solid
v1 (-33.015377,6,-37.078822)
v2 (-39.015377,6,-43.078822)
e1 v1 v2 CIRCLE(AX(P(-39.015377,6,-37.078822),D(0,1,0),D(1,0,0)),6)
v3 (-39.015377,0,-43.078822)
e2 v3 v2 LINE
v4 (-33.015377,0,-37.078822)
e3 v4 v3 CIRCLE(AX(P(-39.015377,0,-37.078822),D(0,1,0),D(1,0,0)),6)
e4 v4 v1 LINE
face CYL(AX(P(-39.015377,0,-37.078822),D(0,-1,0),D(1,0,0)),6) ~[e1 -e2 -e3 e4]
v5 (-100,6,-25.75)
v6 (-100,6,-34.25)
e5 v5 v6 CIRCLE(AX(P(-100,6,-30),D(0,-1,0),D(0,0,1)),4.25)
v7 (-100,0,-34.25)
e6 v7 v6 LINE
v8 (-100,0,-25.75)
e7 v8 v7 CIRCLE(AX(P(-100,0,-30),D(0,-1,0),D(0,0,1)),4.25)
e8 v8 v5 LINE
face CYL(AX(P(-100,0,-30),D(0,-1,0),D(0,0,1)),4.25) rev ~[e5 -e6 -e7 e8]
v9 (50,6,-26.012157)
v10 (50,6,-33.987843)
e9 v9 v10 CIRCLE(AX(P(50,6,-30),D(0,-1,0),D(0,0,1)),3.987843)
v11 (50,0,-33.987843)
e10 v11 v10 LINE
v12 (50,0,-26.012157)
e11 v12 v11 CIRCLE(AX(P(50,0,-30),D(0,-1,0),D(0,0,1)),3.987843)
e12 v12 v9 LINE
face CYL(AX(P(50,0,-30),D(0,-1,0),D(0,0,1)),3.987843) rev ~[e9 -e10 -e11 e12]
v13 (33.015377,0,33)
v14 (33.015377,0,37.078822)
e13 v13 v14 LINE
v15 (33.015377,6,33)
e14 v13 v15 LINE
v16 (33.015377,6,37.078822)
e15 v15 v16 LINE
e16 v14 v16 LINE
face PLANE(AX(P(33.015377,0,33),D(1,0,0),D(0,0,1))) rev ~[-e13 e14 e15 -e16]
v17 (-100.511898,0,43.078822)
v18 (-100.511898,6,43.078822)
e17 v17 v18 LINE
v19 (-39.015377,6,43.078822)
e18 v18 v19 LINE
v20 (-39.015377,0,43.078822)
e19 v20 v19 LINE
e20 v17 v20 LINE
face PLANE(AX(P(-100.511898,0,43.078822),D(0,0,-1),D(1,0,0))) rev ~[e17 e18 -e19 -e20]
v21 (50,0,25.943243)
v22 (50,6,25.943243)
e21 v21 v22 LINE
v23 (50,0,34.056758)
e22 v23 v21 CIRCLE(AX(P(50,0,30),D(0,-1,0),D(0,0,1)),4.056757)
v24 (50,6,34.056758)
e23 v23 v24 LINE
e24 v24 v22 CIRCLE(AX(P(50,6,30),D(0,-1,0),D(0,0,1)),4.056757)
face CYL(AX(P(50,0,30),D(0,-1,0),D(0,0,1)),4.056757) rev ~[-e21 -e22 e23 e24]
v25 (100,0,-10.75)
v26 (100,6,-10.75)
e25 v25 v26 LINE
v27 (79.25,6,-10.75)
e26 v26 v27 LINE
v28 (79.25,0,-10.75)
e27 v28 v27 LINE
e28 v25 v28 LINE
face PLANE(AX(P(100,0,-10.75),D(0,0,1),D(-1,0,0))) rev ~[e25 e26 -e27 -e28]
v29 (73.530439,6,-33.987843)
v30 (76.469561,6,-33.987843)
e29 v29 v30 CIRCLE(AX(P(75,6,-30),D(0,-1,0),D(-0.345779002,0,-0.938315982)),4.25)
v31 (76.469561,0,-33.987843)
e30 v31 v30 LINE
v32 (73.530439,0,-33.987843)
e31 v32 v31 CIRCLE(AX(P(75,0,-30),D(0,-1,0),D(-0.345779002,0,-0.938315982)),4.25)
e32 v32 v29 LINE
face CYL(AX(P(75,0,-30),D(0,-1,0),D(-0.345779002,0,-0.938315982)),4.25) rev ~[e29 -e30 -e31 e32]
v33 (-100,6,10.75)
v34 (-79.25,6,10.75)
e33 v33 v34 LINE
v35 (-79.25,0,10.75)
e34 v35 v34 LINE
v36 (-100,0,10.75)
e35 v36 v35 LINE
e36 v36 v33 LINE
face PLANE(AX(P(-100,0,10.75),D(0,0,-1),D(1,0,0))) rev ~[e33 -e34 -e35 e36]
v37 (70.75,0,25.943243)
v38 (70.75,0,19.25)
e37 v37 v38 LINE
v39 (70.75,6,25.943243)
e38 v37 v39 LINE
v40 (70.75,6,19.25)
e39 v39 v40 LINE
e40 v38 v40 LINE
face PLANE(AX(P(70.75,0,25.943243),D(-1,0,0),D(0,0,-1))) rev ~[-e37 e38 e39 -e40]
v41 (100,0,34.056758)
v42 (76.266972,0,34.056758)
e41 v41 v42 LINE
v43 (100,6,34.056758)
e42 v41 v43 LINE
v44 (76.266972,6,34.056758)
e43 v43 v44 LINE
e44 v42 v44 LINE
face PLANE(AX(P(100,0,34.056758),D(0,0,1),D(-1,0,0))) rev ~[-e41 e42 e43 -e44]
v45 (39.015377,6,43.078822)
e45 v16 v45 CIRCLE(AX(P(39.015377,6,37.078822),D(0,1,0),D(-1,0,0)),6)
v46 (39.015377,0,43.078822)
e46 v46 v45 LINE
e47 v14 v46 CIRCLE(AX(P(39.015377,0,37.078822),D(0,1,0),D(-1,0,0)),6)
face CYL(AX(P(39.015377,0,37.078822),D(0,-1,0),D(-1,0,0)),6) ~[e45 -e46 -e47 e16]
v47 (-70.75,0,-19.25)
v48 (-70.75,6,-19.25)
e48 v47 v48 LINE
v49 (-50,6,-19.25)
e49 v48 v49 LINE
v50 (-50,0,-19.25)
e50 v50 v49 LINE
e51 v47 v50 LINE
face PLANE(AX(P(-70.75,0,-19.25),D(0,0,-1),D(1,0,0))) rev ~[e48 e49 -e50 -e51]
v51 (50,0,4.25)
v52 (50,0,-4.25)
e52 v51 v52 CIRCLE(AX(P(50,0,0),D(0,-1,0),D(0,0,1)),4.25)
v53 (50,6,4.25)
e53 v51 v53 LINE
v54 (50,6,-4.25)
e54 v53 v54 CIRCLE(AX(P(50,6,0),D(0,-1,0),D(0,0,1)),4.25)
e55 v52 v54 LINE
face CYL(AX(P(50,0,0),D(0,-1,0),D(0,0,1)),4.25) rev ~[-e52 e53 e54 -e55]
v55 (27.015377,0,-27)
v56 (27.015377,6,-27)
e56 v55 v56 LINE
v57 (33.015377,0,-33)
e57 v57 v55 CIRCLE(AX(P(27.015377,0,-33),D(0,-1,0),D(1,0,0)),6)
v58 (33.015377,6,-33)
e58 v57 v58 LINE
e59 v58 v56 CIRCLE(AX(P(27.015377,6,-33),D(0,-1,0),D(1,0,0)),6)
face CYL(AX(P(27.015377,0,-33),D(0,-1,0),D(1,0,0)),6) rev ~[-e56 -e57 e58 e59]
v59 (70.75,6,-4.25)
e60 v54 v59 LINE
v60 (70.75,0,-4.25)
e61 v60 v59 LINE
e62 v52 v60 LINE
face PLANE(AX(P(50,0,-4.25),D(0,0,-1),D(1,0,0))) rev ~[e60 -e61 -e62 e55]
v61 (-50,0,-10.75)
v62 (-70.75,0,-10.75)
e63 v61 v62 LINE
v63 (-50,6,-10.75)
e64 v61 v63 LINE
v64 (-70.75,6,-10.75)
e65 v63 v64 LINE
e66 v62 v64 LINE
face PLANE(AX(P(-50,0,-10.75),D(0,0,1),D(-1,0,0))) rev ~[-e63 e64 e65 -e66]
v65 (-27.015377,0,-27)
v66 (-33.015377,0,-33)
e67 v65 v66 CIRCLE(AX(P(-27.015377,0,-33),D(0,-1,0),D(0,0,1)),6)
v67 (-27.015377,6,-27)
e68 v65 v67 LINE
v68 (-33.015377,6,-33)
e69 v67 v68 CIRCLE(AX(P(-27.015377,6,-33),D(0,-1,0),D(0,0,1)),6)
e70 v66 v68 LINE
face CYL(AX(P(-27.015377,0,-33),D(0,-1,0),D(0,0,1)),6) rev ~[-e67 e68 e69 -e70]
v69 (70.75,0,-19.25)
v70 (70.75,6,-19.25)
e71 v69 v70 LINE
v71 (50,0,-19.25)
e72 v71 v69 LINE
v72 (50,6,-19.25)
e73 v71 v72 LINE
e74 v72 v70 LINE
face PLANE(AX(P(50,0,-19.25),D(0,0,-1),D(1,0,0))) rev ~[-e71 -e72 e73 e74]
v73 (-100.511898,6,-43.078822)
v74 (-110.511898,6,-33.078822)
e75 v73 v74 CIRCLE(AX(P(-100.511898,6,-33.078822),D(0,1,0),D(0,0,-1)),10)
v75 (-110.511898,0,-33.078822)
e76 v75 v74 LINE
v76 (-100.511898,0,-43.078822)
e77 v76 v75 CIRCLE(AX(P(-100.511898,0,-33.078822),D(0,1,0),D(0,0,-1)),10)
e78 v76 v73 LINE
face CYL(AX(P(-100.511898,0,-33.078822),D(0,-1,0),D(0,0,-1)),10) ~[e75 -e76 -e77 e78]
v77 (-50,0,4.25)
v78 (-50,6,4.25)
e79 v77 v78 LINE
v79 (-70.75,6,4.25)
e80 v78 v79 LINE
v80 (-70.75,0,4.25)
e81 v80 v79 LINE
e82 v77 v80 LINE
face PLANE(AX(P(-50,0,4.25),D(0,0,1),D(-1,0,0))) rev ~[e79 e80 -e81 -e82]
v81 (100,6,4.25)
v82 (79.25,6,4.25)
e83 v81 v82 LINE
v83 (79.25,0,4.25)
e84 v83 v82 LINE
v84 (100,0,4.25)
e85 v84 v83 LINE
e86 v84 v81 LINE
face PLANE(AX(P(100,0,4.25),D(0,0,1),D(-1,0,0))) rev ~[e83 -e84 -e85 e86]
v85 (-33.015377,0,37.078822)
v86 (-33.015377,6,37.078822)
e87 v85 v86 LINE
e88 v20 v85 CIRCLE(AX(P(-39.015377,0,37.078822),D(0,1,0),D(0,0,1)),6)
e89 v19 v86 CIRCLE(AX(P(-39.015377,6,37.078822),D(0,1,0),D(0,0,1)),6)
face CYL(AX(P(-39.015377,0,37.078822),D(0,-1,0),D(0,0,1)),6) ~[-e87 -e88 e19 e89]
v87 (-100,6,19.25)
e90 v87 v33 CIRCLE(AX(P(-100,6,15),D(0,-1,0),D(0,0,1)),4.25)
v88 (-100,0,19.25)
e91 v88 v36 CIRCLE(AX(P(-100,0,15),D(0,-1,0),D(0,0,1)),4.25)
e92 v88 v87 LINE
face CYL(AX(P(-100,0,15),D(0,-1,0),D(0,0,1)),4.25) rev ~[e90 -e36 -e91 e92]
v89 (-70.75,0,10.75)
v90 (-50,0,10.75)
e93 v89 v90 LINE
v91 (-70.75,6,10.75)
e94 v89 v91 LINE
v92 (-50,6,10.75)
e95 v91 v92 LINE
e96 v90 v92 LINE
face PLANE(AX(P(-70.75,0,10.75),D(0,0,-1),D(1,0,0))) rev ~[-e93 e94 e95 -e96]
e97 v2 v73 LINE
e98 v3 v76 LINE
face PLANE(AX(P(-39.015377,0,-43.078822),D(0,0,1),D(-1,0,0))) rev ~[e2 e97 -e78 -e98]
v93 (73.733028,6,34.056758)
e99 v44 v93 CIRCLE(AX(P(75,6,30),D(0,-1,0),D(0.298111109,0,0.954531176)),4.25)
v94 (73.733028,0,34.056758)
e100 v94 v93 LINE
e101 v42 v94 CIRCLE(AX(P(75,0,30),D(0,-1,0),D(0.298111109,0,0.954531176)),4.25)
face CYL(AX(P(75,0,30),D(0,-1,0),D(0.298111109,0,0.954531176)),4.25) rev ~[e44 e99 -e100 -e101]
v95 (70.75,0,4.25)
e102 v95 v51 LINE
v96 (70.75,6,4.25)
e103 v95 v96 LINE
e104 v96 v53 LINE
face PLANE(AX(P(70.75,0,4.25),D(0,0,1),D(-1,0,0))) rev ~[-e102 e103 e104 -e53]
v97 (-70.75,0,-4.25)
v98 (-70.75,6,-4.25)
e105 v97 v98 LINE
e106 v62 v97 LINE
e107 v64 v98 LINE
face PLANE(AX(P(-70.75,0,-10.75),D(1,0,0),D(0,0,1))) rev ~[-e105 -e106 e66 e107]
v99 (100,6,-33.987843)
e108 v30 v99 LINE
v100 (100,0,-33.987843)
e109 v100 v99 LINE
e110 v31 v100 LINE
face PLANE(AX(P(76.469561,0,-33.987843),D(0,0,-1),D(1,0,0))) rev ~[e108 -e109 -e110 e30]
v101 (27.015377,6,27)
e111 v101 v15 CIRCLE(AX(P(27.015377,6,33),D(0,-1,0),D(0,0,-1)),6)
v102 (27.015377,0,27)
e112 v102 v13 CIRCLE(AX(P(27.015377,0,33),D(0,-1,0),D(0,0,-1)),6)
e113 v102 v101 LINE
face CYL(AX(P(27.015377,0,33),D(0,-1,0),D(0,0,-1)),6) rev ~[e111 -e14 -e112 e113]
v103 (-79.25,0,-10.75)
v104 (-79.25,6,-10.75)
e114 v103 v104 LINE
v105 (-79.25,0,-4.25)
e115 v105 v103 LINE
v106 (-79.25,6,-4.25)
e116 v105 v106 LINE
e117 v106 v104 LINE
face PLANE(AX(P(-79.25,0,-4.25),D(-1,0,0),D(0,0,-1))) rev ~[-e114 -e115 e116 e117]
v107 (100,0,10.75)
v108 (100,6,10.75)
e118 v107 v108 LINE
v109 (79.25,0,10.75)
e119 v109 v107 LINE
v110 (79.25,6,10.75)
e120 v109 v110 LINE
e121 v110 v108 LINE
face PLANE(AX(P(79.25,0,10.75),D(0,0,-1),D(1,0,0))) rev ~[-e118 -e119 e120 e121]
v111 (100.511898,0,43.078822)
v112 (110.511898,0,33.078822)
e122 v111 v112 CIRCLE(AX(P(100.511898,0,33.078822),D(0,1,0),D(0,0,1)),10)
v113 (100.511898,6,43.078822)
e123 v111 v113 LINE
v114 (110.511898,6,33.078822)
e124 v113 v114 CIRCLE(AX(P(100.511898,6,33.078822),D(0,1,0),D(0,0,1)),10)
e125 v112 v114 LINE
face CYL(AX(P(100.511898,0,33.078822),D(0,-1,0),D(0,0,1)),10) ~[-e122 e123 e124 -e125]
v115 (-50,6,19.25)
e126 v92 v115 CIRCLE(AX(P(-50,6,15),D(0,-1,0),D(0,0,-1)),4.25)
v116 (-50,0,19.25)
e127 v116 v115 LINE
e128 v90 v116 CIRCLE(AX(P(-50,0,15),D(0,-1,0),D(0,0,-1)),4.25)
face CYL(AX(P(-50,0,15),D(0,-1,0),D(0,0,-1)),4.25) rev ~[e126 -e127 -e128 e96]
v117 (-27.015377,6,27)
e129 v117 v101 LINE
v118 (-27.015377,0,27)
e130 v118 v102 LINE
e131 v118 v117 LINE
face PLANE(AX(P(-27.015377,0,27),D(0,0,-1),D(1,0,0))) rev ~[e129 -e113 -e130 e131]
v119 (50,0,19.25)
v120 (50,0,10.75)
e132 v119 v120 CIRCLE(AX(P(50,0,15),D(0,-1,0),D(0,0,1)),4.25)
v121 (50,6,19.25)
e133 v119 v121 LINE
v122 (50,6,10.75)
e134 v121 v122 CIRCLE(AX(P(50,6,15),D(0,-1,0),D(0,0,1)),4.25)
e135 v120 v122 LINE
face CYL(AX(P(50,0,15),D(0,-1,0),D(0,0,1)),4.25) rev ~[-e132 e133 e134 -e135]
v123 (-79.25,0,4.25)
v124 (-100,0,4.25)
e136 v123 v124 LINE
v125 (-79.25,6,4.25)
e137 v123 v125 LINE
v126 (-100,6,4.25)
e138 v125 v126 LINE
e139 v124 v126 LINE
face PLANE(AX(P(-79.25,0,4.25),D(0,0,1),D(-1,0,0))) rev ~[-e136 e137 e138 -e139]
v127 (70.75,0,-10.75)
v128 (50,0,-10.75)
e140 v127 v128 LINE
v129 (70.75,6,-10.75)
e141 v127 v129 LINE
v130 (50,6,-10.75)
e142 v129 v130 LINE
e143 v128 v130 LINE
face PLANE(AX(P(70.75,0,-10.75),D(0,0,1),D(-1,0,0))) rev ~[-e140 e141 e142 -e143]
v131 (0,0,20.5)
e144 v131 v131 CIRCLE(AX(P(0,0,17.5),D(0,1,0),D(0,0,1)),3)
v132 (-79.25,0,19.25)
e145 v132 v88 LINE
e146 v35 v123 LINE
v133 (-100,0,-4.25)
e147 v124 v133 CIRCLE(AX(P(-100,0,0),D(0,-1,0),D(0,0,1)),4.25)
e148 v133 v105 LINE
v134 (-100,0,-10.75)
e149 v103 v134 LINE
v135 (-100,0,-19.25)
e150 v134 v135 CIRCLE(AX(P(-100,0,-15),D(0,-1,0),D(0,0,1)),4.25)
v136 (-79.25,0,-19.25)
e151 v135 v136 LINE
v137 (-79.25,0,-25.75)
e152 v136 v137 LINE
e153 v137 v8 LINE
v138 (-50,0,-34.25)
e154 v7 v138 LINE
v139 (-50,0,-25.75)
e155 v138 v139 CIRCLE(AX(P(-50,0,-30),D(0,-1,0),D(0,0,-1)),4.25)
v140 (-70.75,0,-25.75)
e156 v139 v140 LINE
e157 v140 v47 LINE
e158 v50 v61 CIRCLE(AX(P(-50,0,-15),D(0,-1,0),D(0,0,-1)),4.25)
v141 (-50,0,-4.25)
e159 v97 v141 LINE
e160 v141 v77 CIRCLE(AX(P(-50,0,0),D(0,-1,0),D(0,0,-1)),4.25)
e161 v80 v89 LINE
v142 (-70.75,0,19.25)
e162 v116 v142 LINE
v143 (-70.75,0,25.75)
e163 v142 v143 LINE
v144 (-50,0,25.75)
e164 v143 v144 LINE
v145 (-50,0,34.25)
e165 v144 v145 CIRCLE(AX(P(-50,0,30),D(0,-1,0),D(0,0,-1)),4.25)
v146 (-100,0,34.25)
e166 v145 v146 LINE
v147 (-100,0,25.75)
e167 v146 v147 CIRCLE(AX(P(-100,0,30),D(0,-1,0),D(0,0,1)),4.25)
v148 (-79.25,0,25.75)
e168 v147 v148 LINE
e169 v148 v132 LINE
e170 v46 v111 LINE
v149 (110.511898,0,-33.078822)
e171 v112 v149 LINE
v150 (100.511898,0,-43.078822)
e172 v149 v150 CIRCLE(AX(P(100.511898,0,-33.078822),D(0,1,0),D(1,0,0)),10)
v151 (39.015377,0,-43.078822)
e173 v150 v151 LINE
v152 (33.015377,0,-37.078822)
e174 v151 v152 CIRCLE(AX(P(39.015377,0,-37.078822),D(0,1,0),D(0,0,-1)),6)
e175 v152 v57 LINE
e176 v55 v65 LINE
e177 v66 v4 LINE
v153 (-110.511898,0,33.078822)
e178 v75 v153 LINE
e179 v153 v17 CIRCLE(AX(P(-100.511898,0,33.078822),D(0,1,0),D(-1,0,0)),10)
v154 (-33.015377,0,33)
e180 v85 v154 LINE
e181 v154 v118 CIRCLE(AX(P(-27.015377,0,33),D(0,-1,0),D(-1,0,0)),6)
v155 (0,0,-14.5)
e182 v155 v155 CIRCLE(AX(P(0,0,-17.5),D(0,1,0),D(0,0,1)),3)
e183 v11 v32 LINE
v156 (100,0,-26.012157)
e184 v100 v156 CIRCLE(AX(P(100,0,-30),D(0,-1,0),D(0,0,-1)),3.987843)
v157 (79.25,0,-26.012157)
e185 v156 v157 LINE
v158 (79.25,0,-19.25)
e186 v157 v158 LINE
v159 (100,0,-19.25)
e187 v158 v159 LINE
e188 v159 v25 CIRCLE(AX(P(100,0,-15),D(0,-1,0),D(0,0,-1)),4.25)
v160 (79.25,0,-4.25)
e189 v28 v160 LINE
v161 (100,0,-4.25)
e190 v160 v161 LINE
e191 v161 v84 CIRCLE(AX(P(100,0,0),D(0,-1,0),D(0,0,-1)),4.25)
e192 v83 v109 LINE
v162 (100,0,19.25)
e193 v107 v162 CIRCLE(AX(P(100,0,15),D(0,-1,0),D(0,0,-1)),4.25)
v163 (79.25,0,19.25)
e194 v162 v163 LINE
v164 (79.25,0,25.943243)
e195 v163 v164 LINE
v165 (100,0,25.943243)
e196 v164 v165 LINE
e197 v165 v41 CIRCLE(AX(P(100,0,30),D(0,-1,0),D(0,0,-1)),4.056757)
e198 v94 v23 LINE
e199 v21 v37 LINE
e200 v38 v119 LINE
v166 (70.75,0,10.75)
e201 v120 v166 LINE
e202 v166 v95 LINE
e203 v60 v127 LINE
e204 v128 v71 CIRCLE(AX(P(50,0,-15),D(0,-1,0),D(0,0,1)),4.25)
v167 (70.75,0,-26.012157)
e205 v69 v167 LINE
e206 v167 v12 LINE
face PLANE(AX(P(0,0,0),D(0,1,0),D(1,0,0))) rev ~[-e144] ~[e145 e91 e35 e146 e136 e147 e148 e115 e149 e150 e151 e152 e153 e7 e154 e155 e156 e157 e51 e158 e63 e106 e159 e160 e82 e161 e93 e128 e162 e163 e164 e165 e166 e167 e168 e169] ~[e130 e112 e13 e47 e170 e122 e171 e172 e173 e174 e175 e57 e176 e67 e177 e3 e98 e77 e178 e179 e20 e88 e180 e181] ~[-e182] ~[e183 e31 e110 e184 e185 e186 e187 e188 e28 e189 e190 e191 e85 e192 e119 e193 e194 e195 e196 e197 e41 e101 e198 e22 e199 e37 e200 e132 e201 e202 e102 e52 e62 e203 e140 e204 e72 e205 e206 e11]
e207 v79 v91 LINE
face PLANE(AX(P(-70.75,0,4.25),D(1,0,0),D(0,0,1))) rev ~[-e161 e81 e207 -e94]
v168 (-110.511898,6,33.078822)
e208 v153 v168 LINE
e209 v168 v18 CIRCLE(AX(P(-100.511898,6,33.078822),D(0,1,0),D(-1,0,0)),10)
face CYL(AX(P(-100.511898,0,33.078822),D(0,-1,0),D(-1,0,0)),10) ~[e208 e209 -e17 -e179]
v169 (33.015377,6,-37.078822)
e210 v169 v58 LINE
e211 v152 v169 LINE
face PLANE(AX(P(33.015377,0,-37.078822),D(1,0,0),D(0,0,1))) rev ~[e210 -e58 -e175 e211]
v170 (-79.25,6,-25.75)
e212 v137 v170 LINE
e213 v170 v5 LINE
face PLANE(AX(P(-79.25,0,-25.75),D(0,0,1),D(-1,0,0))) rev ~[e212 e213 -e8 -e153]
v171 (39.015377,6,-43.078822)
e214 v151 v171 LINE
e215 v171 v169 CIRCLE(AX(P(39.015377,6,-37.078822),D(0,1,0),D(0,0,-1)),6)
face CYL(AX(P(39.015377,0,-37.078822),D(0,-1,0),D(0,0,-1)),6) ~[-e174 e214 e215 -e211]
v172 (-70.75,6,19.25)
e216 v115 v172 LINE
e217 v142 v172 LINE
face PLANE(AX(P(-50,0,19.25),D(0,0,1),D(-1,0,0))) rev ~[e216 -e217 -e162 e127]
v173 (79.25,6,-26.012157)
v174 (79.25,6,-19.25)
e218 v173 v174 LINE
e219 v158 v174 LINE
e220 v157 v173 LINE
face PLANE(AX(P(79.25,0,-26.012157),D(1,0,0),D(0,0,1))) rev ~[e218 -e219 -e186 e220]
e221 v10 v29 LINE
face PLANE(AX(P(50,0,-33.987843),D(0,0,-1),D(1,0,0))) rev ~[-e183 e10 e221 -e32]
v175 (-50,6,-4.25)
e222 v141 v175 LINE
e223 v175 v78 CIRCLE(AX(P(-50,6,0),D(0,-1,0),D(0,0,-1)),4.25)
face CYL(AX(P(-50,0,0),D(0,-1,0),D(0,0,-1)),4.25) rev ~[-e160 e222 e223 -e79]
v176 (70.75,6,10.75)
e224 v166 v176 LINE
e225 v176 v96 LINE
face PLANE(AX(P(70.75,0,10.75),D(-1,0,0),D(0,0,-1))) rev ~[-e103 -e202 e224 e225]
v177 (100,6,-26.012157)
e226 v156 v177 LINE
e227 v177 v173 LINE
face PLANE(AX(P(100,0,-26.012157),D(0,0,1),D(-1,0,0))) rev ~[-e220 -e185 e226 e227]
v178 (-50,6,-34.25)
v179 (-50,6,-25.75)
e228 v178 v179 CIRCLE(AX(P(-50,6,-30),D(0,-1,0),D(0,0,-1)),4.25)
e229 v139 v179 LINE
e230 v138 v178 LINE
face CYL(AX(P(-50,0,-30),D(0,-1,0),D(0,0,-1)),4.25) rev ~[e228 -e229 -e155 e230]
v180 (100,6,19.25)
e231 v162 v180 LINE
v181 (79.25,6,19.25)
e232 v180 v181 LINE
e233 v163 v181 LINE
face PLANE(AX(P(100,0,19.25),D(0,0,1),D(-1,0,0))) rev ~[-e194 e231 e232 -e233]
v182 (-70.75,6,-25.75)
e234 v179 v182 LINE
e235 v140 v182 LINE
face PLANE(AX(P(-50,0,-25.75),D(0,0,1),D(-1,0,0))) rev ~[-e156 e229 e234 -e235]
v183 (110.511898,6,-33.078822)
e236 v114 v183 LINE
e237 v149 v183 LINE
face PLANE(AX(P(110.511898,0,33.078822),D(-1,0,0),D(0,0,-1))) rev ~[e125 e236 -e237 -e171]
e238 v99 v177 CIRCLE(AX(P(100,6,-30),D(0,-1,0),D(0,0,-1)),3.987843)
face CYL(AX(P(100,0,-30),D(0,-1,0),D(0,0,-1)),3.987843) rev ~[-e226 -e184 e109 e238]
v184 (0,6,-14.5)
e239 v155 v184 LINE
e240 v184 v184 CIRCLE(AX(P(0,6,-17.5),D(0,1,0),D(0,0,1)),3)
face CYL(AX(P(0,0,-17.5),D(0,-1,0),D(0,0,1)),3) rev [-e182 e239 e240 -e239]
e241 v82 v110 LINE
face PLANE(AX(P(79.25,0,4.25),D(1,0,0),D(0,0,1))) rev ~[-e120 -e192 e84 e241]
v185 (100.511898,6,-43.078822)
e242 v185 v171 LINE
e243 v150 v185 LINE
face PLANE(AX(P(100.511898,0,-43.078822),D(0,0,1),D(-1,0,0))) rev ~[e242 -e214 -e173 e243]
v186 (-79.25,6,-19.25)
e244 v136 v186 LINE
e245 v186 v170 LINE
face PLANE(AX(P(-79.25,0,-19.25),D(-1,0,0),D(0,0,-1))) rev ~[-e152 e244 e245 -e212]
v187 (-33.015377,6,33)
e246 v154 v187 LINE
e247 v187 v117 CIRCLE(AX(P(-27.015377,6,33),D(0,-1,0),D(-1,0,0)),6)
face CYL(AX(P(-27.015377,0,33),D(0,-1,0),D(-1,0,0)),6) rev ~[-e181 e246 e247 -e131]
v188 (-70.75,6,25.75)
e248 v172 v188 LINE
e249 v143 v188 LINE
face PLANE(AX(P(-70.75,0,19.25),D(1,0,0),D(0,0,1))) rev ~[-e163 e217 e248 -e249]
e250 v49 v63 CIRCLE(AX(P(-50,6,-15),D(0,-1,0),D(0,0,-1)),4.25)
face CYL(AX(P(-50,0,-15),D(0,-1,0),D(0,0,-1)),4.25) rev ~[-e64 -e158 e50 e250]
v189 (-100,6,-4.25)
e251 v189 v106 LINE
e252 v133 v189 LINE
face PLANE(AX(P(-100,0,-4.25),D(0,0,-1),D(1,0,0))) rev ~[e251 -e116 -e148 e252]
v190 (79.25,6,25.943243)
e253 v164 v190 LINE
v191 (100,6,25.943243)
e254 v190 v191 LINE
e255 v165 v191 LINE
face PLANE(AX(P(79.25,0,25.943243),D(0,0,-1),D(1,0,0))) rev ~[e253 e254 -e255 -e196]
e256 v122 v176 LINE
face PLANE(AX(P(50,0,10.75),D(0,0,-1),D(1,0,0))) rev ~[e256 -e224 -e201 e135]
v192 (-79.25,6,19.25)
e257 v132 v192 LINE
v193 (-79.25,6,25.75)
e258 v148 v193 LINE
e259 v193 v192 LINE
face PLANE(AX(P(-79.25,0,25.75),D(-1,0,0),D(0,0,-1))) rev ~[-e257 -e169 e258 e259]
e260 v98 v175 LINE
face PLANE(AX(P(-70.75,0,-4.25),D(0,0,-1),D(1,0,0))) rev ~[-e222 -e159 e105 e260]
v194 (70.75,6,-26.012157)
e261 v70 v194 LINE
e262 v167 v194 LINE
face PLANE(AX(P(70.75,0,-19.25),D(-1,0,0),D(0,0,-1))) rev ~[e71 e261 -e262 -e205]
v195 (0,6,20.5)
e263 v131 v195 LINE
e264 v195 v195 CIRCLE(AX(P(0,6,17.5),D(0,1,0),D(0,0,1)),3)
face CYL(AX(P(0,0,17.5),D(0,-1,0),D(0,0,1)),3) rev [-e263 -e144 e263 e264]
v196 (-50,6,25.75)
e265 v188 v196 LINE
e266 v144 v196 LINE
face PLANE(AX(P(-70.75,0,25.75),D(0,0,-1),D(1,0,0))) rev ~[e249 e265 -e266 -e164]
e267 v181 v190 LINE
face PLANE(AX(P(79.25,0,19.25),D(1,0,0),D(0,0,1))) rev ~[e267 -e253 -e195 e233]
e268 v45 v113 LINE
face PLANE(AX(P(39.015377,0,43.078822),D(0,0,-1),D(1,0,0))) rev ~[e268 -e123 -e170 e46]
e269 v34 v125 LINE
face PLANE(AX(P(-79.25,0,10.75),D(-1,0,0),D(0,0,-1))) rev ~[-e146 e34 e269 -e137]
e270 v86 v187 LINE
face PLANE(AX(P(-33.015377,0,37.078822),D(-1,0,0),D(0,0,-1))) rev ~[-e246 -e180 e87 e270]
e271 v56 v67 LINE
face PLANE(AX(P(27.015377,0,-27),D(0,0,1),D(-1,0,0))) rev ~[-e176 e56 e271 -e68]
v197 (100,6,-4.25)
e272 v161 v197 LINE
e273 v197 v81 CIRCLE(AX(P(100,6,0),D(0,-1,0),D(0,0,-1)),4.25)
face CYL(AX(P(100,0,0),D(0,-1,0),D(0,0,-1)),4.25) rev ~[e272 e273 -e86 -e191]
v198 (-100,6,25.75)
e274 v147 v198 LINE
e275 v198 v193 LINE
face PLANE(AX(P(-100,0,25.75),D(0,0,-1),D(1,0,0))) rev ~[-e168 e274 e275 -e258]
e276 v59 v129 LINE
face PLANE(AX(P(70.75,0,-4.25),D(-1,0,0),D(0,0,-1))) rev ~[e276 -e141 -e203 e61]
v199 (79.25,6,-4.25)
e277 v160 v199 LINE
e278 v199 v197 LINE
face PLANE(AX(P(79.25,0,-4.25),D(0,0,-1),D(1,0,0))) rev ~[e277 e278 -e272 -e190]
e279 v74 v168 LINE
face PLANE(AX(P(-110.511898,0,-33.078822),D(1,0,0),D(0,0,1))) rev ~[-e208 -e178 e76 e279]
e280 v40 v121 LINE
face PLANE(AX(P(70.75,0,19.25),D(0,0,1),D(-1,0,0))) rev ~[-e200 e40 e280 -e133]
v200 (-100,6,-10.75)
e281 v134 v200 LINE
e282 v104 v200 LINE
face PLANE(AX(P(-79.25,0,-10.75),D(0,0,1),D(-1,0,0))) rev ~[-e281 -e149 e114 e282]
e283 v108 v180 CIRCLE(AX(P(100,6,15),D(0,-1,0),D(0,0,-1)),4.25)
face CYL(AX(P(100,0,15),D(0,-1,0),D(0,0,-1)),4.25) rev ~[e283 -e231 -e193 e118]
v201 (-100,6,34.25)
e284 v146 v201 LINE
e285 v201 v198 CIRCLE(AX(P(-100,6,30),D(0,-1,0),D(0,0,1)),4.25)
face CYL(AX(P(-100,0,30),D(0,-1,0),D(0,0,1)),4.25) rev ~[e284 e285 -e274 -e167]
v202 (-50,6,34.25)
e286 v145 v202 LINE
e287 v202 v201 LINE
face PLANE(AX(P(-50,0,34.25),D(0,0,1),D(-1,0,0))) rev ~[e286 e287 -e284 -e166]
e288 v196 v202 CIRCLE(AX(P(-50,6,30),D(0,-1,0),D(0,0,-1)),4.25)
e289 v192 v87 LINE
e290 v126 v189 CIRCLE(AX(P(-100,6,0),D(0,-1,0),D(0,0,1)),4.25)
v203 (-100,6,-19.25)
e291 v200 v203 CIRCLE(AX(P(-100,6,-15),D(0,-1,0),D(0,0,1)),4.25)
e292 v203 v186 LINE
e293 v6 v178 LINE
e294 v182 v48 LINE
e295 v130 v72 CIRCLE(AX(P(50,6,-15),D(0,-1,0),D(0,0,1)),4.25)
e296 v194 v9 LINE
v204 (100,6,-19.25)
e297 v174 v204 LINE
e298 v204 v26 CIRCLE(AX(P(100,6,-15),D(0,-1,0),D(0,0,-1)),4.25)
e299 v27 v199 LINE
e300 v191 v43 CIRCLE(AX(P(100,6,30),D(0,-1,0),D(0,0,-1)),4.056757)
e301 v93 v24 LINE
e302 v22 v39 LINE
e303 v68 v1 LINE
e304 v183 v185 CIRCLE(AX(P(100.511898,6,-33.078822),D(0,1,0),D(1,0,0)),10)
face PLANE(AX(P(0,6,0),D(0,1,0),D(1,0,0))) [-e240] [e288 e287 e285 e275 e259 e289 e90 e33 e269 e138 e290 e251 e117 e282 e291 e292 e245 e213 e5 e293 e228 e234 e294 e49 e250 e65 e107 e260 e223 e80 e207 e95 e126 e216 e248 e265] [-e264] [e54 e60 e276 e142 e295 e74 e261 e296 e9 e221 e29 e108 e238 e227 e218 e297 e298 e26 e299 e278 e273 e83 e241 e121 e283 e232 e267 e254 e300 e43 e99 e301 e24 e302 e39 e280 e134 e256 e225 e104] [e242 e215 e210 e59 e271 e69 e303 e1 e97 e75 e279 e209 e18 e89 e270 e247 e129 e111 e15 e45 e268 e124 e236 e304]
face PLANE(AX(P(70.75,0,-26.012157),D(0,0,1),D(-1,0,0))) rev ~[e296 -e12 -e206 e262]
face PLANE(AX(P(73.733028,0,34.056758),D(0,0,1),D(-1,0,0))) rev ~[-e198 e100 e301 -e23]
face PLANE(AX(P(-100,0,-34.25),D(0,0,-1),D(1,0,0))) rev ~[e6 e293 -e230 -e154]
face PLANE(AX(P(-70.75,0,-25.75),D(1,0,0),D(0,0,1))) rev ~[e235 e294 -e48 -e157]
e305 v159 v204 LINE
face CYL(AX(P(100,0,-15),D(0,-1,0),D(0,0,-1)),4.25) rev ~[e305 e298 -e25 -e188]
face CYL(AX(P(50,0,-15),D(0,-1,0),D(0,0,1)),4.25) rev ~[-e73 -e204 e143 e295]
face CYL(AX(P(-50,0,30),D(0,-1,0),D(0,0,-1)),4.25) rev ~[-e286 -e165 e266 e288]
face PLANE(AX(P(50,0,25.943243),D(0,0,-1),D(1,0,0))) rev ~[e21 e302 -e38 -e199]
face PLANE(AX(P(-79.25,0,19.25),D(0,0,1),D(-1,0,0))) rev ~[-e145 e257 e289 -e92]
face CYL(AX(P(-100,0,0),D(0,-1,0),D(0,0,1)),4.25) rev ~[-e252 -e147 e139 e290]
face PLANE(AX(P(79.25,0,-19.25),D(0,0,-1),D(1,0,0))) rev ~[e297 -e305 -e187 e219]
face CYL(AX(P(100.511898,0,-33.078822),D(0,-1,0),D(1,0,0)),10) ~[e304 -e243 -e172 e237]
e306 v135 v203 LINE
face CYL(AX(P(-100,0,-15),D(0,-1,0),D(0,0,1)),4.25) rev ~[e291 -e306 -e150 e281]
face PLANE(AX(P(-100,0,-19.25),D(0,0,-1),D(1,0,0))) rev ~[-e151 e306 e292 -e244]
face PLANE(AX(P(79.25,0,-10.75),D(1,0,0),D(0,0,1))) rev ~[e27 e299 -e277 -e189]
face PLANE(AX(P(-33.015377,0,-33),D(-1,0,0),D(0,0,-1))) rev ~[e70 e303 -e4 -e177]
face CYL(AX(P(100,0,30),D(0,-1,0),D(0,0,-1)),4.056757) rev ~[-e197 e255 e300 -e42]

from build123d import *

# Parameters (mm, degrees)
CROQUIS1_R              = 3
SALIENTE_EXTRUIR1_DEPTH = 6


with BuildPart() as part:
    # Croquis1 → Saliente-Extruir1 (new body)
    with BuildSketch(Plane(origin=(0, 0, 0), x_dir=(1, 0, 0), z_dir=(0, 1, 0))):
        with BuildLine():
            Line((39.015376651, -43.078821925), (100.511897923, -43.078821925))
            ThreePointArc((100.511897923, -43.078821925), (107.582965735, -40.149889737), (110.511897923, -33.078821925))
            Line((110.511897923, -33.078821925), (110.511897923, 33.078821925))
            ThreePointArc((110.511897923, 33.078821925), (107.582965735, 40.149889737), (100.511897923, 43.078821925))
            Line((100.511897923, 43.078821925), (39.015376651, 43.078821925))
            ThreePointArc((39.015376651, 43.078821925), (34.772735964, 41.321462613), (33.015376651, 37.078821925))
            Line((33.015376651, 37.078821925), (33.015376651, 33))
            ThreePointArc((33.015376651, 33), (31.258017338, 28.757359313), (27.015376651, 27))
            Line((27.015376651, 27), (-27.015376651, 27))
            ThreePointArc((-27.015376651, 27), (-31.258017338, 28.757359313), (-33.015376651, 33))
            Line((-33.015376651, 33), (-33.015376651, 37.078821925))
            ThreePointArc((-33.015376651, 37.078821925), (-34.772735964, 41.321462613), (-39.015376651, 43.078821925))
            Line((-39.015376651, 43.078821925), (-100.511897923, 43.078821925))
            ThreePointArc((-100.511897923, 43.078821925), (-107.582965735, 40.149889737), (-110.511897923, 33.078821925))
            Line((-110.511897923, 33.078821925), (-110.511897923, -33.078821925))
            ThreePointArc((-110.511897923, -33.078821925), (-107.582965735, -40.149889737), (-100.511897923, -43.078821925))
            Line((-100.511897923, -43.078821925), (-39.015376651, -43.078821925))
            ThreePointArc((-39.015376651, -43.078821925), (-34.772735964, -41.321462613), (-33.015376651, -37.078821925))
            Line((-33.015376651, -37.078821925), (-33.015376651, -33))
            ThreePointArc((-33.015376651, -33), (-31.258017338, -28.757359313), (-27.015376651, -27))
            Line((-27.015376651, -27), (27.015376651, -27))
            ThreePointArc((27.015376651, -27), (31.258017338, -28.757359313), (33.015376651, -33))
            Line((33.015376651, -33), (33.015376651, -37.078821925))
            ThreePointArc((33.015376651, -37.078821925), (34.772735964, -41.321462613), (39.015376651, -43.078821925))
        make_face()
        with BuildLine():
            Line((-100, -25.75), (-79.25, -25.75))
            Line((-79.25, -25.75), (-79.25, -19.25))
            Line((-79.25, -19.25), (-100, -19.25))
            ThreePointArc((-100, -19.25), (-104.25, -15), (-100, -10.75))
            Line((-100, -10.75), (-79.25, -10.75))
            Line((-79.25, -10.75), (-79.25, -4.25))
            Line((-79.25, -4.25), (-100, -4.25))
            ThreePointArc((-100, -4.25), (-104.25, 0), (-100, 4.25))
            Line((-100, 4.25), (-79.25, 4.25))
            Line((-79.25, 4.25), (-79.25, 10.75))
            Line((-79.25, 10.75), (-100, 10.75))
            ThreePointArc((-100, 10.75), (-104.25, 15), (-100, 19.25))
            Line((-100, 19.25), (-79.25, 19.25))
            Line((-79.25, 19.25), (-79.25, 25.75))
            Line((-79.25, 25.75), (-100, 25.75))
            ThreePointArc((-100, 25.75), (-104.25, 30), (-100, 34.25))
            Line((-100, 34.25), (-75, 34.25))
            Line((-75, 34.25), (-50, 34.25))
            ThreePointArc((-50, 34.25), (-45.75, 30), (-50, 25.75))
            Line((-50, 25.75), (-70.75, 25.75))
            Line((-70.75, 25.75), (-70.75, 19.25))
            Line((-70.75, 19.25), (-50, 19.25))
            ThreePointArc((-50, 19.25), (-45.75, 15), (-50, 10.75))
            Line((-50, 10.75), (-70.75, 10.75))
            Line((-70.75, 10.75), (-70.75, 4.25))
            Line((-70.75, 4.25), (-50, 4.25))
            ThreePointArc((-50, 4.25), (-45.75, 0), (-50, -4.25))
            Line((-50, -4.25), (-70.75, -4.25))
            Line((-70.75, -4.25), (-70.75, -10.75))
            Line((-70.75, -10.75), (-50, -10.75))
            ThreePointArc((-50, -10.75), (-45.75, -15), (-50, -19.25))
            Line((-50, -19.25), (-70.75, -19.25))
            Line((-70.75, -19.25), (-70.75, -25.75))
            Line((-70.75, -25.75), (-50, -25.75))
            ThreePointArc((-50, -25.75), (-45.75, -30), (-50, -34.25))
            Line((-50, -34.25), (-75, -34.25))
            Line((-75, -34.25), (-100, -34.25))
            ThreePointArc((-100, -34.25), (-104.25, -30), (-100, -25.75))
        make_face(mode=Mode.SUBTRACT)
        with Locations(Location((0, -17.5, 0), (0, 0, 270))):
            Circle(CROQUIS1_R, mode=Mode.SUBTRACT)
        with BuildLine():
            Line((79.25, -19.25), (79.25, -25.9432425))
            Line((79.25, -25.9432425), (100, -25.9432425))
            ThreePointArc((100, -25.9432425), (104.0567575, -30), (100, -34.0567575))
            Line((100, -34.0567575), (76.266972211, -34.0567575))
            ThreePointArc((76.266972211, -34.0567575), (75, -34.25), (73.733027789, -34.0567575))
            Line((73.733027789, -34.0567575), (50, -34.0567575))
            ThreePointArc((50, -34.0567575), (45.9432425, -30), (50, -25.9432425))
            Line((50, -25.9432425), (70.75, -25.9432425))
            Line((70.75, -25.9432425), (70.75, -19.25))
            Line((70.75, -19.25), (50, -19.25))
            ThreePointArc((50, -19.25), (45.75, -15), (50, -10.75))
            Line((50, -10.75), (70.75, -10.75))
            Line((70.75, -10.75), (70.75, -4.25))
            Line((70.75, -4.25), (50, -4.25))
            ThreePointArc((50, -4.25), (45.75, 0), (50, 4.25))
            Line((50, 4.25), (70.75, 4.25))
            Line((70.75, 4.25), (70.75, 10.75))
            Line((70.75, 10.75), (50, 10.75))
            ThreePointArc((50, 10.75), (45.75, 15), (50, 19.25))
            Line((50, 19.25), (70.75, 19.25))
            Line((70.75, 19.25), (70.75, 26.012157078))
            Line((70.75, 26.012157078), (50, 26.012157078))
            ThreePointArc((50, 26.012157078), (46.012157078, 30), (50, 33.987842922))
            Line((50, 33.987842922), (73.530439238, 33.987842922))
            ThreePointArc((73.530439238, 33.987842922), (75, 34.25), (76.469560762, 33.987842922))
            Line((76.469560762, 33.987842922), (100, 33.987842922))
            ThreePointArc((100, 33.987842922), (103.987842922, 30), (100, 26.012157078))
            Line((100, 26.012157078), (79.25, 26.012157078))
            Line((79.25, 26.012157078), (79.25, 19.25))
            Line((79.25, 19.25), (100, 19.25))
            ThreePointArc((100, 19.25), (104.25, 15), (100, 10.75))
            Line((100, 10.75), (79.25, 10.75))
            Line((79.25, 10.75), (79.25, 4.25))
            Line((79.25, 4.25), (100, 4.25))
            ThreePointArc((100, 4.25), (104.25, 0), (100, -4.25))
            Line((100, -4.25), (79.25, -4.25))
            Line((79.25, -4.25), (79.25, -10.75))
            Line((79.25, -10.75), (100, -10.75))
            ThreePointArc((100, -10.75), (104.25, -15), (100, -19.25))
            Line((100, -19.25), (79.25, -19.25))
        make_face(mode=Mode.SUBTRACT)
        with Locations(Location((0, 17.5, 0), (0, 0, 270))):
            Circle(CROQUIS1_R, mode=Mode.SUBTRACT)
    extrude(amount=SALIENTE_EXTRUIR1_DEPTH)


solid = part.part
